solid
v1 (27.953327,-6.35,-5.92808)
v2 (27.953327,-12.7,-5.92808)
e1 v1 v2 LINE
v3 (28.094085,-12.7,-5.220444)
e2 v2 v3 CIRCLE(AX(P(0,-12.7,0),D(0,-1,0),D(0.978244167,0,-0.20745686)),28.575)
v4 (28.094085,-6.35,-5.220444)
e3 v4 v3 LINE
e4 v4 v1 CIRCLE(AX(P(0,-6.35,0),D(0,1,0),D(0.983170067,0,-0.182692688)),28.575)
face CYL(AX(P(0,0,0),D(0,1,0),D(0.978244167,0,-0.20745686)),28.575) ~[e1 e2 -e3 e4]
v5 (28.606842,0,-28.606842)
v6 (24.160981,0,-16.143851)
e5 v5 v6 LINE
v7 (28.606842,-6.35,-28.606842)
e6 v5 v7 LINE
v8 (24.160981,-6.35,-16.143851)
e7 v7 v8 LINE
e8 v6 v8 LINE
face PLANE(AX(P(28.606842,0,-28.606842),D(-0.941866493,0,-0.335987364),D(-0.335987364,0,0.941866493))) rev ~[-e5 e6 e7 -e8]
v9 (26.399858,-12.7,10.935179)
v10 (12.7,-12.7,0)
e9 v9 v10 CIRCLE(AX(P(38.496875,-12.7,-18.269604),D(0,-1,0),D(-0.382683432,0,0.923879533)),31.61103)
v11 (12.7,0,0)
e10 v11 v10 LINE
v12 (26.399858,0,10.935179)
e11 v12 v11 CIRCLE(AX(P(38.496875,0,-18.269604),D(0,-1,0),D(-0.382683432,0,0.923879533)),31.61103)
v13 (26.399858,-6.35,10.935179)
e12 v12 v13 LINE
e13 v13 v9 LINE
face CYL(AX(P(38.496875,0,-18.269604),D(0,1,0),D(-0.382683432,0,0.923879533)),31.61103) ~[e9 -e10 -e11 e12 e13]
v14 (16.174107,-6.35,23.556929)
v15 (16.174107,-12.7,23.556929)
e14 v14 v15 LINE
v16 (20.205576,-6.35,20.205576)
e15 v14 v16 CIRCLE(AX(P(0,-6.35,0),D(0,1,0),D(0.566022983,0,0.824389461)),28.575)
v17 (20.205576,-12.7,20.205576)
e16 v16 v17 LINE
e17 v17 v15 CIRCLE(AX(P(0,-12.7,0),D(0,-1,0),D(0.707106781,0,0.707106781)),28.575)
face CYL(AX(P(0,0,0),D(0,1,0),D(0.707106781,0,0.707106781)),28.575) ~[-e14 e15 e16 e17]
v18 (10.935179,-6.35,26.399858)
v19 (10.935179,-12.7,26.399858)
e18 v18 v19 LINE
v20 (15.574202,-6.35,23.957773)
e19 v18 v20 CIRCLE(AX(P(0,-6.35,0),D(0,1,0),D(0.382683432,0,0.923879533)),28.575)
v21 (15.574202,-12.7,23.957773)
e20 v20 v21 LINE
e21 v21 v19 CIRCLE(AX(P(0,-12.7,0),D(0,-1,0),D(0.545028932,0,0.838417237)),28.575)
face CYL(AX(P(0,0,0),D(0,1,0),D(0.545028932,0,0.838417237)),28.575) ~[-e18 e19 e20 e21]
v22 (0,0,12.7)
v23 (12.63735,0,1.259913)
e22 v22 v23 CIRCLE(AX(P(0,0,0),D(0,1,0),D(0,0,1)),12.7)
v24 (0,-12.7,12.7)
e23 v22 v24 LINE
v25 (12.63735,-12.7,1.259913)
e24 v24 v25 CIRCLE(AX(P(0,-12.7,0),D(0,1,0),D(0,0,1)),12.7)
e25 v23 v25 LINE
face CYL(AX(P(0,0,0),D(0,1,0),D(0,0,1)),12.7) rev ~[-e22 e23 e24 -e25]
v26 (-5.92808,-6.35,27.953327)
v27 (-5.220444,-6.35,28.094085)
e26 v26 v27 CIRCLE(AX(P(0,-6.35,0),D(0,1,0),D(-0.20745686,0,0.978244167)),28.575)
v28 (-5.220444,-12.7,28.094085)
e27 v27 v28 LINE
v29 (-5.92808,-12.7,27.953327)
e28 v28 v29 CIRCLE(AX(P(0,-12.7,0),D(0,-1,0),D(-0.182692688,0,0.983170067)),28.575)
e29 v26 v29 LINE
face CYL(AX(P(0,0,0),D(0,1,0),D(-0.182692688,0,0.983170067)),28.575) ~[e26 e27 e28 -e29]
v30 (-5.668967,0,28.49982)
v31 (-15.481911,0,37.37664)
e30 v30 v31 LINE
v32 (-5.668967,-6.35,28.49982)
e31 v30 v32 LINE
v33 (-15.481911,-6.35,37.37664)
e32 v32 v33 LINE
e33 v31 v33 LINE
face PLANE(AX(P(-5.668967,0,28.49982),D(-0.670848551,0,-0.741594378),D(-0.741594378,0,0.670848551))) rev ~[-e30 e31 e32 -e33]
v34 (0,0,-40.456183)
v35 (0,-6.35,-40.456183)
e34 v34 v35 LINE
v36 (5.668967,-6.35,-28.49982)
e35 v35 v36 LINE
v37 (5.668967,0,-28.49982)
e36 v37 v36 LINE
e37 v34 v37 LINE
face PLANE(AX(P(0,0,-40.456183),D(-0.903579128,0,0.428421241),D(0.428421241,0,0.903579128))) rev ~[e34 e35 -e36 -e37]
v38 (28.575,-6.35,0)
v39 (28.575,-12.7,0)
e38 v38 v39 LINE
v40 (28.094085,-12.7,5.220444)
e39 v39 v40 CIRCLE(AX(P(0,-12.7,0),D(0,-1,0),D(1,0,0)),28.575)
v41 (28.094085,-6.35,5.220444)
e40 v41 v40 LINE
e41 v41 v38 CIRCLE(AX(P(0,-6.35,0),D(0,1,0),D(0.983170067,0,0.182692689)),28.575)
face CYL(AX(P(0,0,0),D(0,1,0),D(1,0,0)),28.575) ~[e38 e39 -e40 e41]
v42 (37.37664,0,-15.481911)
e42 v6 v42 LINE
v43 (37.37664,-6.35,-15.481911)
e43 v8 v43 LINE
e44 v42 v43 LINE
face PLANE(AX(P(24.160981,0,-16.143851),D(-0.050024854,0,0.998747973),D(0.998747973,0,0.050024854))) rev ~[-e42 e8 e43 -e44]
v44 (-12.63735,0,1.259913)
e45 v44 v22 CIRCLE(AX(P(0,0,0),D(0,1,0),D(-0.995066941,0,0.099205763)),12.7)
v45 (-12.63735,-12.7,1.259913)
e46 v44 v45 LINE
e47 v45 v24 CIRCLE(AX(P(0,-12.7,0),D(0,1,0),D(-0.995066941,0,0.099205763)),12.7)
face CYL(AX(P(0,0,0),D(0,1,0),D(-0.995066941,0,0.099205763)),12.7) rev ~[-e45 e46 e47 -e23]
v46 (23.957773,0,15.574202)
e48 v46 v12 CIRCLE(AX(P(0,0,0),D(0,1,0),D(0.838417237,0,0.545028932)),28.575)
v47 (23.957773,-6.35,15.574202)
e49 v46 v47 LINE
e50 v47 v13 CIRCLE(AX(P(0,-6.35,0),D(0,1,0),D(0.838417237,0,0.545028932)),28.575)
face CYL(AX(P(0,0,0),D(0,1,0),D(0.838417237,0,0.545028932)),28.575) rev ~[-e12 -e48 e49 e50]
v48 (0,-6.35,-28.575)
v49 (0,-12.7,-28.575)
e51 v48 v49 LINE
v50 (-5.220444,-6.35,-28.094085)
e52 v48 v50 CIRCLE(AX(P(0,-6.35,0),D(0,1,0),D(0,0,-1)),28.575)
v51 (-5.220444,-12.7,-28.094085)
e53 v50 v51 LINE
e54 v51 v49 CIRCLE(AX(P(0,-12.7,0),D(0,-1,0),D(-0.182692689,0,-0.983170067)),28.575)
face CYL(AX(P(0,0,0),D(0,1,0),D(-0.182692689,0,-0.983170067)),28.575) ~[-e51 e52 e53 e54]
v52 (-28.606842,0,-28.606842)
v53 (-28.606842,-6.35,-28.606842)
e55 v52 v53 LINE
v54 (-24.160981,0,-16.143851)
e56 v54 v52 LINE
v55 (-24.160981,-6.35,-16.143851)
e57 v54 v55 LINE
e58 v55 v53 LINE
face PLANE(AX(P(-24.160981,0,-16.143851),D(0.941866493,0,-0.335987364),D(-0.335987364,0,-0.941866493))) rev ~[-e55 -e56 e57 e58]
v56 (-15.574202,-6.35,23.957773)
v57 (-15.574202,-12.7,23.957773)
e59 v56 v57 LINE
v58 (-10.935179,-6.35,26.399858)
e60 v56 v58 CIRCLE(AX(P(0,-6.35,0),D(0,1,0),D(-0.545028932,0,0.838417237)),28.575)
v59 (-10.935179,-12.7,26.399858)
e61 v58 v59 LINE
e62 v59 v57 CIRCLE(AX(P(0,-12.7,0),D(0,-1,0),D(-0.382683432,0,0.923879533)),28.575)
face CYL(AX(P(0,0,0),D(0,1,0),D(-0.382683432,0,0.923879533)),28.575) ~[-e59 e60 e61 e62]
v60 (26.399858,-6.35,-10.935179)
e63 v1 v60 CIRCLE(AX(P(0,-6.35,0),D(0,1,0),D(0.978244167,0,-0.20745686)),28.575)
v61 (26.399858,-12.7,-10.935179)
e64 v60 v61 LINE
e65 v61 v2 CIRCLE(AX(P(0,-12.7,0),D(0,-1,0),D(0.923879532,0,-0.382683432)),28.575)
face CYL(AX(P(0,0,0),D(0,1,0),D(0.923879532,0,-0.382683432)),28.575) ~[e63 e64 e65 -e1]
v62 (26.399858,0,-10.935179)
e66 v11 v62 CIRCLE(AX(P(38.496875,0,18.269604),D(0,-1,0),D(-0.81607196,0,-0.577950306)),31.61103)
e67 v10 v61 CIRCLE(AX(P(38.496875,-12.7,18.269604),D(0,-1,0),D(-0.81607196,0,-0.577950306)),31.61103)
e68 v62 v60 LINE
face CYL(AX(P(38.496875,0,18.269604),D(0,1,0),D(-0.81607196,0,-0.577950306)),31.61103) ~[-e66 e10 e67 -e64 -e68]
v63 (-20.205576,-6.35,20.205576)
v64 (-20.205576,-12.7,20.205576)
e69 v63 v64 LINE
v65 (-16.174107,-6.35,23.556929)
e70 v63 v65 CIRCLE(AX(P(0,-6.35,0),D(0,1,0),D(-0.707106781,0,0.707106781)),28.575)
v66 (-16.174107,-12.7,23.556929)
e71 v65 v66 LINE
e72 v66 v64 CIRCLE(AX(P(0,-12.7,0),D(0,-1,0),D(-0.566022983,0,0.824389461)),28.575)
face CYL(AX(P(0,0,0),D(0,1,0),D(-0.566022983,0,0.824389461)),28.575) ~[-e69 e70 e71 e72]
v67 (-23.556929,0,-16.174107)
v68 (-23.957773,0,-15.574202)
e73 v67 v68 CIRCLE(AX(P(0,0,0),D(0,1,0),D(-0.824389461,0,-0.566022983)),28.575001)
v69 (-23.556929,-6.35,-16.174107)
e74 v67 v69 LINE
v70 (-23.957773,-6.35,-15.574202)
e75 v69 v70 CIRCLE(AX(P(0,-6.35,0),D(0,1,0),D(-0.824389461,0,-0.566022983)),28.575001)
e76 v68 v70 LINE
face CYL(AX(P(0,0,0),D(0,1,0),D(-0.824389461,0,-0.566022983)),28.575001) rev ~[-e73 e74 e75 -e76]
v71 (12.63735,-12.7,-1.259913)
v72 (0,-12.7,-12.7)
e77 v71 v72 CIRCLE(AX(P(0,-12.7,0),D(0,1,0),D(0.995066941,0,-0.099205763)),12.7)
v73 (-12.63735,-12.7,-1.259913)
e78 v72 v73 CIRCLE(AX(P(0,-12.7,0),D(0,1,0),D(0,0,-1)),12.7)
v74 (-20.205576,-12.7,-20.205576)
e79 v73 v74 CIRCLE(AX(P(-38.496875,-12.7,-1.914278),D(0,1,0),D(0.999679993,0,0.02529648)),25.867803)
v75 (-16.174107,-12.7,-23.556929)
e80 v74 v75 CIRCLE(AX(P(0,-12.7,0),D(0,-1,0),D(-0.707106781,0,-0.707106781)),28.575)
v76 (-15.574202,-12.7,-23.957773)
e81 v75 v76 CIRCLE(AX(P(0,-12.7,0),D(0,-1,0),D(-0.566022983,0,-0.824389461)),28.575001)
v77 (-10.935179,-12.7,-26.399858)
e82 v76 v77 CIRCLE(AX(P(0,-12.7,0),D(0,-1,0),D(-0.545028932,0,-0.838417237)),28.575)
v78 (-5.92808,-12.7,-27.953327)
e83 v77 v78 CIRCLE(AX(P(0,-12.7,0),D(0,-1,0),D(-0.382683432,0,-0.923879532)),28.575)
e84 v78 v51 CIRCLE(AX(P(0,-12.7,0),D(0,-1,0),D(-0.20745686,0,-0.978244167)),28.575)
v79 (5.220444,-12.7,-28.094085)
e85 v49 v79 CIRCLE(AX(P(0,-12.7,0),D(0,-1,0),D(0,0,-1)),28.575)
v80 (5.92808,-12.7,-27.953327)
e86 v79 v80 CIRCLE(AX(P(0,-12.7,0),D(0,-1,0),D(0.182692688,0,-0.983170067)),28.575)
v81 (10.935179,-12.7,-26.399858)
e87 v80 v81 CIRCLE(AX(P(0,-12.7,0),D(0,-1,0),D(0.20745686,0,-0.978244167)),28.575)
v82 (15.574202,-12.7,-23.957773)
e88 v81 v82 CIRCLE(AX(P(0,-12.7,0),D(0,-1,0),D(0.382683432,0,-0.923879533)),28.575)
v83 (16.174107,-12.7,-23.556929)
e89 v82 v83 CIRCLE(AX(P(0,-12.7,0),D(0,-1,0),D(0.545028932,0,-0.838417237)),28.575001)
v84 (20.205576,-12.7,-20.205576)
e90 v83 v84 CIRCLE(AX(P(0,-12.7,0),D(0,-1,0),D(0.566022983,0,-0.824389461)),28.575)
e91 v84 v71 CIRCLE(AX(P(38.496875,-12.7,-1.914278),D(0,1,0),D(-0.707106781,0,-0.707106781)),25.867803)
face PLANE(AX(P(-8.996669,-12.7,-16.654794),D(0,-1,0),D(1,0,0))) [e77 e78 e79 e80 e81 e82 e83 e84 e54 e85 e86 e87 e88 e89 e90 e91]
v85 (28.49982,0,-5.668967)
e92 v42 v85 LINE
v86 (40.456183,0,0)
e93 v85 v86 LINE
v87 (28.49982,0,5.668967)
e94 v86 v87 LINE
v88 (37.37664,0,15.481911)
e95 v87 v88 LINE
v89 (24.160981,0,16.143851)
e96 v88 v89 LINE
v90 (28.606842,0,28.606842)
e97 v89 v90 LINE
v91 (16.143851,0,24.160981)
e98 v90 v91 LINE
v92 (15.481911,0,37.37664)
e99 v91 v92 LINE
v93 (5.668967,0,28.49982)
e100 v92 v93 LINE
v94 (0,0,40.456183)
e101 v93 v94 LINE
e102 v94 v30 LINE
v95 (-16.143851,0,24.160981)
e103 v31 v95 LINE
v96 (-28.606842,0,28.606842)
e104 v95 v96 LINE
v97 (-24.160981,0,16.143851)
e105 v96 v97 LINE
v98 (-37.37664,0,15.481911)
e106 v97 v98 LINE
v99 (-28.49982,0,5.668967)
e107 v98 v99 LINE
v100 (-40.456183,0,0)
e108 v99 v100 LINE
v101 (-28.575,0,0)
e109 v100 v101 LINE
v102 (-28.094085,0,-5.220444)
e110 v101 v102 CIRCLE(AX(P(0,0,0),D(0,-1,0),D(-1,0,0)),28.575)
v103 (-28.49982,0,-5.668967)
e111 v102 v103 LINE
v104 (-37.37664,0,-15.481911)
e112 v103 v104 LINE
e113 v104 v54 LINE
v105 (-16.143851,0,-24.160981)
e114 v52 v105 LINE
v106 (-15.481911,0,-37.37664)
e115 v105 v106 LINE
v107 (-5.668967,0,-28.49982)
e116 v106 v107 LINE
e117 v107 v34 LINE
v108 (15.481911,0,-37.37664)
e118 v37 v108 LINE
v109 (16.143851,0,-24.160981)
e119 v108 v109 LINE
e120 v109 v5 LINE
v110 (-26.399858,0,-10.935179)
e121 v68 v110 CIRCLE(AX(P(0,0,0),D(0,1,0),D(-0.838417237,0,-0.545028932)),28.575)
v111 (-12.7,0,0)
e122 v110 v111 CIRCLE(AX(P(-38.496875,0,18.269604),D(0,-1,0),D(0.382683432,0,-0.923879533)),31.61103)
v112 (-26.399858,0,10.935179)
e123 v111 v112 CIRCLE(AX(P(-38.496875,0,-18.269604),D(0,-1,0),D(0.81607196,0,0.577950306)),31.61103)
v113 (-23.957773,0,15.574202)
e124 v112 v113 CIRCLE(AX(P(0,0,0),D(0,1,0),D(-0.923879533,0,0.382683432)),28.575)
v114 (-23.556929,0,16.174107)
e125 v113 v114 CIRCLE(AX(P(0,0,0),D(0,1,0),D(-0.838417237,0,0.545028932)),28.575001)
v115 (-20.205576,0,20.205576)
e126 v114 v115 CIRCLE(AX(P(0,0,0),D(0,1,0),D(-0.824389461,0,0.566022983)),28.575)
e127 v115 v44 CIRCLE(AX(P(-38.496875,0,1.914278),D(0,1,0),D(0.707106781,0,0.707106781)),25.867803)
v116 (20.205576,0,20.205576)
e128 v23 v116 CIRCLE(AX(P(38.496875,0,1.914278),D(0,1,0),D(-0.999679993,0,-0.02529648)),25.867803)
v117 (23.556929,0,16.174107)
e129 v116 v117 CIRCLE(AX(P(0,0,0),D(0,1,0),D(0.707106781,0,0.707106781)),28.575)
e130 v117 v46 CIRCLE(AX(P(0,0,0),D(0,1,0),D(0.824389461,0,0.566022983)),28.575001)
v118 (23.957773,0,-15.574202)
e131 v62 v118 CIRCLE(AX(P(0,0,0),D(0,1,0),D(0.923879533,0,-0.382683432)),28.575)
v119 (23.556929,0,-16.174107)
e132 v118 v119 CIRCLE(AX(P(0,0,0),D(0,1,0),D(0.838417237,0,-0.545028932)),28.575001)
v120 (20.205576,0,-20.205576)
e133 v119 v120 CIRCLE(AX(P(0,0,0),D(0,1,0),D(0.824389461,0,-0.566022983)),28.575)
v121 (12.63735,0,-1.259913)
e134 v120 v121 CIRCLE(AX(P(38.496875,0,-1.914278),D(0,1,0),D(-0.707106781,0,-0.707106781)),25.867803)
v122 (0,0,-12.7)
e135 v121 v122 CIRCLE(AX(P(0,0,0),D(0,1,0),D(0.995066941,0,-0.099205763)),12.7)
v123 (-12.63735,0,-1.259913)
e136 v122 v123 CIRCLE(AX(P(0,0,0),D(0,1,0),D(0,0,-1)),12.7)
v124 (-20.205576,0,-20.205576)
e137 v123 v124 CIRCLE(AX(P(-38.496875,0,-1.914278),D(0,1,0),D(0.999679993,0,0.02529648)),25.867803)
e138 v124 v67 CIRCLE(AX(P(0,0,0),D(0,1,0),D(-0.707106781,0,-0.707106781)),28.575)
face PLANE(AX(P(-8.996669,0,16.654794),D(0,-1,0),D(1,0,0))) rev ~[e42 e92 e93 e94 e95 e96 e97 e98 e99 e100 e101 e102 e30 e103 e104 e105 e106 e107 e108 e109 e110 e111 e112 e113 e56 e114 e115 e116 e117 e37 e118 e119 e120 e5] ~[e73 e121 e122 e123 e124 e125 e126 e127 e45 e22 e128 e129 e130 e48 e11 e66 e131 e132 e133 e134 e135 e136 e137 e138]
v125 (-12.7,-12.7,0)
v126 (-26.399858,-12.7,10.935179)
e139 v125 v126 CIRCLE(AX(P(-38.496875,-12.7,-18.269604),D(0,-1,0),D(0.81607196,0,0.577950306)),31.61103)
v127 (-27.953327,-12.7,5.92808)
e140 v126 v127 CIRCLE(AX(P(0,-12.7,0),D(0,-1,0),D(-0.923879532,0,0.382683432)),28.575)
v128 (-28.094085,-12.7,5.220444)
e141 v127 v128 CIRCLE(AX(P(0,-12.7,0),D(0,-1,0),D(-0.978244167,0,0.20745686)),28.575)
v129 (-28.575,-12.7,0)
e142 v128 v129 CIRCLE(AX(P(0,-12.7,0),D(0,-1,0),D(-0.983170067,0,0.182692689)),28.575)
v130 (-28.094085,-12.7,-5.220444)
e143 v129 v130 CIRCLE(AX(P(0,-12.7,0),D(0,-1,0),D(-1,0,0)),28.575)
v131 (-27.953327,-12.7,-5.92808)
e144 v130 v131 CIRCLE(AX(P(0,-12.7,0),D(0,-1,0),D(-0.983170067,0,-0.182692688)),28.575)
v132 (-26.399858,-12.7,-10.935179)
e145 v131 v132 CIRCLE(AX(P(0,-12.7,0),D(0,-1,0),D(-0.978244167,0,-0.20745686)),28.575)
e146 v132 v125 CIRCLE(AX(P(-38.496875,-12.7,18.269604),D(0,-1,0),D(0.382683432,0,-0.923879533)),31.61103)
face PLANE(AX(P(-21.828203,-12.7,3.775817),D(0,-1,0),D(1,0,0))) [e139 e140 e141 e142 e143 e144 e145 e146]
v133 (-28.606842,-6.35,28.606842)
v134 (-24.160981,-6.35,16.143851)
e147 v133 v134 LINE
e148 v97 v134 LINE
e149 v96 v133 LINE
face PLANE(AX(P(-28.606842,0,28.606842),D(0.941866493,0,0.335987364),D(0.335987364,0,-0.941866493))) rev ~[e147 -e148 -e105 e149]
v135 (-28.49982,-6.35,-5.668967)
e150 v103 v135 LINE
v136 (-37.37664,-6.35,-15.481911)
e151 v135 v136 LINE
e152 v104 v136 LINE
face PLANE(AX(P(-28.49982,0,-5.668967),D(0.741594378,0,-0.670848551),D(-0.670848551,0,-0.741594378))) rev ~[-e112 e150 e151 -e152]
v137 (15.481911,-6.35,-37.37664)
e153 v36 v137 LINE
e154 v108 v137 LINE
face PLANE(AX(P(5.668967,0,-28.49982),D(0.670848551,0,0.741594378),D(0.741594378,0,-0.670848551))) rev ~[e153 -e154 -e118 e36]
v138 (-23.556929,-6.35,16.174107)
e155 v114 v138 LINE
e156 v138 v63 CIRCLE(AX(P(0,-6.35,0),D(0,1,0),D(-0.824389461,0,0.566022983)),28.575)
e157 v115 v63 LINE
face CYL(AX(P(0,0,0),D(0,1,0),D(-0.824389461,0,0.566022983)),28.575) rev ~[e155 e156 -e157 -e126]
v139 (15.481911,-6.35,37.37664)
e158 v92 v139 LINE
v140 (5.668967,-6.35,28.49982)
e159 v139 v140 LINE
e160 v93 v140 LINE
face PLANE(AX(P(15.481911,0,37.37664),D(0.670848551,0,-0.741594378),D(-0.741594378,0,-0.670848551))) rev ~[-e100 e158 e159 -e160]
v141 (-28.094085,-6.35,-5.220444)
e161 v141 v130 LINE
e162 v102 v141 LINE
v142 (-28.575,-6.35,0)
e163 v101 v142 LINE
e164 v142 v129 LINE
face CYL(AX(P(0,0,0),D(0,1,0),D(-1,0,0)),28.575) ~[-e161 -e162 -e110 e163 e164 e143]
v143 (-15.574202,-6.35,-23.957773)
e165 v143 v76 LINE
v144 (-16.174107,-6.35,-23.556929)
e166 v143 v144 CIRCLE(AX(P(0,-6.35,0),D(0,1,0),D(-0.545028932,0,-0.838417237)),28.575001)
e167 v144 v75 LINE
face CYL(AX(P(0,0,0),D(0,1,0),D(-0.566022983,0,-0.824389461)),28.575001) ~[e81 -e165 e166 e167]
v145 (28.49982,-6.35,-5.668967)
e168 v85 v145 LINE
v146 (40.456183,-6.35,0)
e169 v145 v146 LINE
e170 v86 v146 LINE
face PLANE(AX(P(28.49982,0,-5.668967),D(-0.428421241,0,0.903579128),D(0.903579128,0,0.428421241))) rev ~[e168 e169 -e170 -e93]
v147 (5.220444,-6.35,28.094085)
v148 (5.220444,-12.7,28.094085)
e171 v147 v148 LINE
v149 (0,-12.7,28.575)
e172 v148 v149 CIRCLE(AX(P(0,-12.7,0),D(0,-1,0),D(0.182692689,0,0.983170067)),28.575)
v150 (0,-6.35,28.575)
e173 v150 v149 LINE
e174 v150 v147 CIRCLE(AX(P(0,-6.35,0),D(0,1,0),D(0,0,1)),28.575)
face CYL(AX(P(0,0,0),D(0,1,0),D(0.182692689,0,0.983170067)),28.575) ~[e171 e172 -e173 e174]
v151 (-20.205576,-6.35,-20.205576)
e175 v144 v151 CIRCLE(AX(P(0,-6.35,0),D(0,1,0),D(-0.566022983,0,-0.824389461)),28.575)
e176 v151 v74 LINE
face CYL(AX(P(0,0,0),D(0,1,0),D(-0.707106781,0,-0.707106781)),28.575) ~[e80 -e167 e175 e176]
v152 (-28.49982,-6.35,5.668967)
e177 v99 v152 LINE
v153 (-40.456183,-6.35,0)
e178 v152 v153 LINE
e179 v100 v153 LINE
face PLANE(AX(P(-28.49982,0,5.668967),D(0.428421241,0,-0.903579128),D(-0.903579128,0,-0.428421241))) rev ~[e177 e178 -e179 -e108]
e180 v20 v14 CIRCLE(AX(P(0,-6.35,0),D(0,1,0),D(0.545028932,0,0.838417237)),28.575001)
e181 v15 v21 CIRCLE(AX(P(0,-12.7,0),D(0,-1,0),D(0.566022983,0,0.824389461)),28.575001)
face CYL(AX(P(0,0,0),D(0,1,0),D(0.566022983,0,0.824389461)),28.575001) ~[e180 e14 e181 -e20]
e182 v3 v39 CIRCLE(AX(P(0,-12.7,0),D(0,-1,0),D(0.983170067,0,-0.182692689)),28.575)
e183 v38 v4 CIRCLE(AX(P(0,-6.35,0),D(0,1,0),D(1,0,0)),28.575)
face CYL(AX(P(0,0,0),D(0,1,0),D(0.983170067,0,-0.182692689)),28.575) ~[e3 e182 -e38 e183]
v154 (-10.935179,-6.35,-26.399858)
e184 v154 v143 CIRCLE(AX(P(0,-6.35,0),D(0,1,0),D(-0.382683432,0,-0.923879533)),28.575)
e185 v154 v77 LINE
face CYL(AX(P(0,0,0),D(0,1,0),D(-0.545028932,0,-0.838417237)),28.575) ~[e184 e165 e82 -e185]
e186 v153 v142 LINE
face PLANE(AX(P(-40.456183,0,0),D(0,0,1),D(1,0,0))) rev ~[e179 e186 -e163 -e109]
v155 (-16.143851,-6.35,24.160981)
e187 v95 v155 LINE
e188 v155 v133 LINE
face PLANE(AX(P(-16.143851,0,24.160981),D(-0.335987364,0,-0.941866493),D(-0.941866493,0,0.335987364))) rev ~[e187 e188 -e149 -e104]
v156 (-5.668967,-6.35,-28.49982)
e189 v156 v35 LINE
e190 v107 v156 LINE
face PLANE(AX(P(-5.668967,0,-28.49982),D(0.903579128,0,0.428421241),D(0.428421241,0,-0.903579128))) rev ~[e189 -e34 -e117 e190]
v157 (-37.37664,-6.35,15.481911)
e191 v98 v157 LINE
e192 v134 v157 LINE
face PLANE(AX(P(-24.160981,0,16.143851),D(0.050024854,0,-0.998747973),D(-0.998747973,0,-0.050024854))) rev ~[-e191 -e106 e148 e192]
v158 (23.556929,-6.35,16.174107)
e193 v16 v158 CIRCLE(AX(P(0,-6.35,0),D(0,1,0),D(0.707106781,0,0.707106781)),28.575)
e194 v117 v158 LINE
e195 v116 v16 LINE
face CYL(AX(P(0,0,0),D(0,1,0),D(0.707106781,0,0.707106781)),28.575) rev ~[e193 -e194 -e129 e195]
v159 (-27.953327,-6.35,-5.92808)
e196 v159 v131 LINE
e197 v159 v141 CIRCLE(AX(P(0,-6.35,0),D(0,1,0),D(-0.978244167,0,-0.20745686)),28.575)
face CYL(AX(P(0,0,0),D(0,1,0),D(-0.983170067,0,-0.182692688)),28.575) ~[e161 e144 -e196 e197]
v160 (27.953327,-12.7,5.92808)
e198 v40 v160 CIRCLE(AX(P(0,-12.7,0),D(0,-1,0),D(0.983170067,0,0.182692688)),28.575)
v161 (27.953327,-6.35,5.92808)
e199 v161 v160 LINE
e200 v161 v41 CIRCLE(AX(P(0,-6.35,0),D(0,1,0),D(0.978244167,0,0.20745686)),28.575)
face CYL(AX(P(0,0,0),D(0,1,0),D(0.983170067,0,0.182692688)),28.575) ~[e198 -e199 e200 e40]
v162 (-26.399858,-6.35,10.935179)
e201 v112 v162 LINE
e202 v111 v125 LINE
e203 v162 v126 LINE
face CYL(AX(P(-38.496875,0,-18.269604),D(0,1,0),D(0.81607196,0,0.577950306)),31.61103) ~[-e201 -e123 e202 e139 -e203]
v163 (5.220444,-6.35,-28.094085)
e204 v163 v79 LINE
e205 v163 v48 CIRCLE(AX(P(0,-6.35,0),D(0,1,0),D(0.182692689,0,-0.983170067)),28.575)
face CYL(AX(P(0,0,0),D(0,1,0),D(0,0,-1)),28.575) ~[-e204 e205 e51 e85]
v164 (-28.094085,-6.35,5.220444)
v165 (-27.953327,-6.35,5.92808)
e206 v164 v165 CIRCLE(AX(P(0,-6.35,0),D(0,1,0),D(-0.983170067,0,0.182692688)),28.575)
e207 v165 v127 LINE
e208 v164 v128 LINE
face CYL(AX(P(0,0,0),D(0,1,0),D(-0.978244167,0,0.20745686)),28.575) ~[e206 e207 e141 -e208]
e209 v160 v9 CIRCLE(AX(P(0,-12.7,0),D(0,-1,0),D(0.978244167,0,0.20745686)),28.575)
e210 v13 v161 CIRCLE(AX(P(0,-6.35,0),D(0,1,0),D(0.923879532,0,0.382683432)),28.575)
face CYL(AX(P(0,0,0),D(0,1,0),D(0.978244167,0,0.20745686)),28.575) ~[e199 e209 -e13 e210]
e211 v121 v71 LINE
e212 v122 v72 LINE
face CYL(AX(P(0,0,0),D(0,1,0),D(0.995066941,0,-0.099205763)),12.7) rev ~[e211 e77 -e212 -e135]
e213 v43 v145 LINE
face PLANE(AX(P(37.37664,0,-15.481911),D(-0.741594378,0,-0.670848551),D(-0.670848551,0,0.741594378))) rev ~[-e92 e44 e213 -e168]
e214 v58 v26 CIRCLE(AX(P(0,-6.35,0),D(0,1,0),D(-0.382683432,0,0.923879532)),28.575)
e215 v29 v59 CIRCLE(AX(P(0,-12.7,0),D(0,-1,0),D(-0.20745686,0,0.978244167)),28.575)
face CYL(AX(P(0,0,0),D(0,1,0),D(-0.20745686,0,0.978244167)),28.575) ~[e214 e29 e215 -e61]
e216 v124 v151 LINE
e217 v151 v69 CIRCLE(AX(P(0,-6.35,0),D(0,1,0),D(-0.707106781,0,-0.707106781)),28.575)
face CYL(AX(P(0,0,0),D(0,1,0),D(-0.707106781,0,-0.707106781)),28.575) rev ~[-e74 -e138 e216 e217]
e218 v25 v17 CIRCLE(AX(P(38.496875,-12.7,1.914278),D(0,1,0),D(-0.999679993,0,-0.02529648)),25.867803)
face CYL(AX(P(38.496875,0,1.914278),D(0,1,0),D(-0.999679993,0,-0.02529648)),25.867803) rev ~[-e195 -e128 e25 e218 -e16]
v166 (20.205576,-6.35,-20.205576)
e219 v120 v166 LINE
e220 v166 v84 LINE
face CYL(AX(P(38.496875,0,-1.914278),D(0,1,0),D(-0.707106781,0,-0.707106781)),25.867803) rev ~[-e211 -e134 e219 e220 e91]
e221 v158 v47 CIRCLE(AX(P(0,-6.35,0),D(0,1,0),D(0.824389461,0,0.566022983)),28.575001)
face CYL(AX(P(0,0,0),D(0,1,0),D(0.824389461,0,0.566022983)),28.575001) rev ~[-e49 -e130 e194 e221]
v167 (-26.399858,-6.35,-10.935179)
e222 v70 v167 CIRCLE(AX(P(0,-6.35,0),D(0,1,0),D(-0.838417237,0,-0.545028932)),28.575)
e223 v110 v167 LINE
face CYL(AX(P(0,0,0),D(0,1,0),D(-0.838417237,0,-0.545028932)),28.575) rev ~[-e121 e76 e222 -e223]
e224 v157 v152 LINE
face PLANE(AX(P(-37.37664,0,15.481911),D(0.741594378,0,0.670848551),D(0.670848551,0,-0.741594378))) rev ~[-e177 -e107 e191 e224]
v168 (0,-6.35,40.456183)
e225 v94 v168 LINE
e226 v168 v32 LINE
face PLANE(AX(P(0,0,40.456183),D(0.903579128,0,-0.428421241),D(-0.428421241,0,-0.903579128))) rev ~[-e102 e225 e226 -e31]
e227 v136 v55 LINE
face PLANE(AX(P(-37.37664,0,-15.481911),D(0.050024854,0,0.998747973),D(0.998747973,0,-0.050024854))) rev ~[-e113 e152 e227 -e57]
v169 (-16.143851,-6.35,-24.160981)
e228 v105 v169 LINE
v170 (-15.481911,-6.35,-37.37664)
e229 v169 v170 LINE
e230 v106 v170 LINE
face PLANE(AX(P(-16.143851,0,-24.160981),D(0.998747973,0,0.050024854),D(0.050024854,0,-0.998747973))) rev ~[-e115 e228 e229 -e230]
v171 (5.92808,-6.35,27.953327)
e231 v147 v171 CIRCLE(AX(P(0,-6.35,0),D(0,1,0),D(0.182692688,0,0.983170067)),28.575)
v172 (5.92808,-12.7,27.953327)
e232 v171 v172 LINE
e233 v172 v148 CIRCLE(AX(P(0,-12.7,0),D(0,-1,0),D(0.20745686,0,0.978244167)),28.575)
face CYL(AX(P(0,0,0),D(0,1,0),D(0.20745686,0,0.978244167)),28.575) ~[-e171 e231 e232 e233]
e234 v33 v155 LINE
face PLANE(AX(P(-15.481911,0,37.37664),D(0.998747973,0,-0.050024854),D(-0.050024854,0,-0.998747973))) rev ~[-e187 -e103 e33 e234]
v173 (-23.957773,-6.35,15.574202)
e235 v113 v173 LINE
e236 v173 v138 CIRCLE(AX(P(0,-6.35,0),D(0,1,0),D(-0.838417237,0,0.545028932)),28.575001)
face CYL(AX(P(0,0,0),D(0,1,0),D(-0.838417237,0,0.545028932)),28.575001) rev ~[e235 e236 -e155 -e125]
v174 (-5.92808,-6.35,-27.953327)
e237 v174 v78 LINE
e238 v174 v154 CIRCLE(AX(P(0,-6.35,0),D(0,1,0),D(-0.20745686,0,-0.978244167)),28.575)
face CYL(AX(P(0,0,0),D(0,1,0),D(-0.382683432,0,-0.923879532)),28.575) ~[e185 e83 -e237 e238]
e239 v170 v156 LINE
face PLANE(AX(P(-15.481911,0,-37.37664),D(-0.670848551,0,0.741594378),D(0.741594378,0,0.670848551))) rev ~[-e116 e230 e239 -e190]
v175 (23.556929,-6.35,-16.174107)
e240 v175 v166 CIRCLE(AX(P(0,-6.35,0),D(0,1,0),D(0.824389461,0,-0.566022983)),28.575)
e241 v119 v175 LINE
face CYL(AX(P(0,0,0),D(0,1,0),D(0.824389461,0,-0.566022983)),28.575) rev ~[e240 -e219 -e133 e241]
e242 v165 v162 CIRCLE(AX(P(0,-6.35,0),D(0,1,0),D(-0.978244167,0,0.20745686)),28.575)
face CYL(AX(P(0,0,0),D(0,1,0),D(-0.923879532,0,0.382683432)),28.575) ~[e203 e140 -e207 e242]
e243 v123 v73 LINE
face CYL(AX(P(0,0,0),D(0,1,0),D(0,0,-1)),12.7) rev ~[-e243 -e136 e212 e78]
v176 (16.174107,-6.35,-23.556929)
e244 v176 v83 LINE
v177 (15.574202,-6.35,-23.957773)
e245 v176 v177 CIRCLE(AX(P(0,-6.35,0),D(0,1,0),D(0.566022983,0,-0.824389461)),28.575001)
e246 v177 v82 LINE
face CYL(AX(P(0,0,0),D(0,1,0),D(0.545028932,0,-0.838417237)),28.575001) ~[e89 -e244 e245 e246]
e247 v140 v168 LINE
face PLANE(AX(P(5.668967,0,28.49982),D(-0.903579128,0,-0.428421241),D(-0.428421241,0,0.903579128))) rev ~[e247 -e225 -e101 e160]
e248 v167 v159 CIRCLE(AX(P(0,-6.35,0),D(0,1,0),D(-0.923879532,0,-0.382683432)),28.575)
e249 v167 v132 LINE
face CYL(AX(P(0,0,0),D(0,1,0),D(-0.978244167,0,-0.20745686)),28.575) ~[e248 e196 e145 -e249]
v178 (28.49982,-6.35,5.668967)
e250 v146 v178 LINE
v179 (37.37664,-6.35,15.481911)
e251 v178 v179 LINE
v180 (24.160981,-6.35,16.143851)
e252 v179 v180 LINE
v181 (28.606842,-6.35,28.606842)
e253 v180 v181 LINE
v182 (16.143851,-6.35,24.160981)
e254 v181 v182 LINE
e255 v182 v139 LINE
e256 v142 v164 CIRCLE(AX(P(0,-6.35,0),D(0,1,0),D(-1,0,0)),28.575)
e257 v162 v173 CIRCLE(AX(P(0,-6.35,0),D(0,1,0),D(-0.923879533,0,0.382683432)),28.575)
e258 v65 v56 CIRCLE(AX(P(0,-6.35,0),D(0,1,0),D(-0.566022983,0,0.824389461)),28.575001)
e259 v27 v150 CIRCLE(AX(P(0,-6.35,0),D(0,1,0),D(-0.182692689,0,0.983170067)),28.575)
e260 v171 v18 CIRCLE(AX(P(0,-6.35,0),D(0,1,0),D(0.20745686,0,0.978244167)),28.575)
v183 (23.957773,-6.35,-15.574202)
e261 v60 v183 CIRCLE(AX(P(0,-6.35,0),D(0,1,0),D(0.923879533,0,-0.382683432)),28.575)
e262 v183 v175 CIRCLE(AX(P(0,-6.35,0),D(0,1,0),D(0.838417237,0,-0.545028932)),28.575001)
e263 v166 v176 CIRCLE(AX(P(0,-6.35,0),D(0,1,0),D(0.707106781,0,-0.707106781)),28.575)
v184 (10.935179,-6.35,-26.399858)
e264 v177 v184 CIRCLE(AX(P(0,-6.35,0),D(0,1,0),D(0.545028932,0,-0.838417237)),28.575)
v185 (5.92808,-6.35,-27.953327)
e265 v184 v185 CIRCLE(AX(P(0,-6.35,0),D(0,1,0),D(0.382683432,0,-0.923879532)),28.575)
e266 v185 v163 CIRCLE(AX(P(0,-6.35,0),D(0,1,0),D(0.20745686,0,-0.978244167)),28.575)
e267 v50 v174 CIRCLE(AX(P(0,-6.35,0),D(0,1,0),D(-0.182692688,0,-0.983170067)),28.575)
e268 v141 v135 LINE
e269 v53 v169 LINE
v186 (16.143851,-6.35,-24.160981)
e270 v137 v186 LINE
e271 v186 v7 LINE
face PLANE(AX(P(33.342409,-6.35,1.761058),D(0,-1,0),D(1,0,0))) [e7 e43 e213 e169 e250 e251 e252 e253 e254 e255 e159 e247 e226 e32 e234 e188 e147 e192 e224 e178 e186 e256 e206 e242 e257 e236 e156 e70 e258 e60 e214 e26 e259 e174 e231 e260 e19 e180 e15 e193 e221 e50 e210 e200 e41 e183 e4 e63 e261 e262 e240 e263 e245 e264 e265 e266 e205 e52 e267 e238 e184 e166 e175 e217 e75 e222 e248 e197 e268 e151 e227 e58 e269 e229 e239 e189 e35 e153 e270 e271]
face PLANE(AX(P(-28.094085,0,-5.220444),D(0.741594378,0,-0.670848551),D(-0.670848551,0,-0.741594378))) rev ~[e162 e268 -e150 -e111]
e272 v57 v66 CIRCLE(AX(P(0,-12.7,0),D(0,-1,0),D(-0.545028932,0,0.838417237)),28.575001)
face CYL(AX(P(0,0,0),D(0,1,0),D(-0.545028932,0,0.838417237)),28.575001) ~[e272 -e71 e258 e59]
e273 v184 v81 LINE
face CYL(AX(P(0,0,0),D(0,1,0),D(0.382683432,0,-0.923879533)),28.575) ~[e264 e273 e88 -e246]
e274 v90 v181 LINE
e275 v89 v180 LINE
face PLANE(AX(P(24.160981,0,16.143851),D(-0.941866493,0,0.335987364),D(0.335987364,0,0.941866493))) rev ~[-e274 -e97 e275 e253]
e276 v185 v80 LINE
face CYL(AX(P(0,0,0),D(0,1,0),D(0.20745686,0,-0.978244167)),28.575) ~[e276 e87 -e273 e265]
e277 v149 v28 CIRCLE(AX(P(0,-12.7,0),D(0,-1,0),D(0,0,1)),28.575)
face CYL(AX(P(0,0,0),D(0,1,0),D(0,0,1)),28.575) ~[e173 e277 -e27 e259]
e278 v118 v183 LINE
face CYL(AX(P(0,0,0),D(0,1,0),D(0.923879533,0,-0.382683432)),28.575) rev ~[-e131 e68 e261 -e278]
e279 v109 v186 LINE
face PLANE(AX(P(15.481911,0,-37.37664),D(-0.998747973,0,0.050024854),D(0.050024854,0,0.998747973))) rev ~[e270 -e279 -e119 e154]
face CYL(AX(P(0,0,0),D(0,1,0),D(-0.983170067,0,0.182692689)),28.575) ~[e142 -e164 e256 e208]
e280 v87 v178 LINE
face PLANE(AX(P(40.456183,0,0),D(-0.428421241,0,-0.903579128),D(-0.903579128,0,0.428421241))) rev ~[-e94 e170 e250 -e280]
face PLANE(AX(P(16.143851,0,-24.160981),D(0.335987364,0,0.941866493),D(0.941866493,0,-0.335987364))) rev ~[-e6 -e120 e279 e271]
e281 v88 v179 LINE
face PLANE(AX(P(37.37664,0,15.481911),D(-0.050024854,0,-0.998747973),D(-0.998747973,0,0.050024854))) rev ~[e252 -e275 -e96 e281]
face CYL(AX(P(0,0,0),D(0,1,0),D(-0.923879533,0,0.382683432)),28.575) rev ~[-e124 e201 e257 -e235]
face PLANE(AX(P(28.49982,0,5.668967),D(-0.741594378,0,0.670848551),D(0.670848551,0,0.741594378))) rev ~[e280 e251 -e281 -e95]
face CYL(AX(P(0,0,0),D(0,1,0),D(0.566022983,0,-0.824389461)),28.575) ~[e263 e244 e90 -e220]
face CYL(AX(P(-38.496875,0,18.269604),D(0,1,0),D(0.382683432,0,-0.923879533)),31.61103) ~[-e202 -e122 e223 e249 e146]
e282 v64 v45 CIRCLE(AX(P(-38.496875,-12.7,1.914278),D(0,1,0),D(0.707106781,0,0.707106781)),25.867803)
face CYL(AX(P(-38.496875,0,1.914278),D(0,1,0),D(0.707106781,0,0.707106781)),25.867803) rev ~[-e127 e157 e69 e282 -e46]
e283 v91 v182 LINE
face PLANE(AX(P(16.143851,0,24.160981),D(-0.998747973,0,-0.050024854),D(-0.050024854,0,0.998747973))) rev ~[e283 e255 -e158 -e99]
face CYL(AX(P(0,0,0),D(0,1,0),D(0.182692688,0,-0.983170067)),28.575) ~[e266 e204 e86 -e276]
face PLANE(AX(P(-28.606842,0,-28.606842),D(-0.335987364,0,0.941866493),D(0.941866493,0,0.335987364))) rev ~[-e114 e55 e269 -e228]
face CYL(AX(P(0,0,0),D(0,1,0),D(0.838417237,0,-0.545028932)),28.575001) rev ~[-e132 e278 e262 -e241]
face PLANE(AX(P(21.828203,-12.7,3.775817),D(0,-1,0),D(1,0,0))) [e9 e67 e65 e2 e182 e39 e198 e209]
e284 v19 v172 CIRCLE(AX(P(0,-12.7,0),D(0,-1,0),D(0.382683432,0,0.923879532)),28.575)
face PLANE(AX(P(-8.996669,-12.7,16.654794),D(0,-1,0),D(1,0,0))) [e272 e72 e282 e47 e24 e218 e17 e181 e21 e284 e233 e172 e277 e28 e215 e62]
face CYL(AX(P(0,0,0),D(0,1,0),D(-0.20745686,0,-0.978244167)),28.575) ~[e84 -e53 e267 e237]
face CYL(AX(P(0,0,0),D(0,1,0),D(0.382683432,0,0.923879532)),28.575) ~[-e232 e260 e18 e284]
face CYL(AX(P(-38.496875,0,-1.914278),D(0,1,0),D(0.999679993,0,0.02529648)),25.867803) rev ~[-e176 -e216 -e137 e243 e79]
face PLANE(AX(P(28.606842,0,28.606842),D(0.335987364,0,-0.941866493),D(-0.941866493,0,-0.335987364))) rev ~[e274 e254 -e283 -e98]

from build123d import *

# Parameters (mm, degrees)
F1_DEPTH = 6.35
F2_DEPTH = 12.7


with BuildPart() as f1:
    # F0 (on Front) → F1 (new body)
    with BuildSketch(Plane.XZ):
        with BuildLine():
            ThreePointArc((28.0940846779, 5.220443574), (28.4545171693, 2.6212740536), (28.575, 0))
            Line((28.575, 0), (40.4561832547, 0))
            Line((40.4561832547, 0), (28.4998200535, 5.6689666767))
            Line((28.4998200535, 5.6689666767), (28.0940846779, 5.220443574))
        make_face()
        with BuildLine():
            ThreePointArc((27.9533270839, 5.9280797851), (28.0259393875, 5.5747059516), (28.0940846779, 5.220443574))
            Line((28.0940846779, 5.220443574), (28.4998200535, 5.6689666767))
            Line((28.4998200535, 5.6689666767), (27.9533270839, 5.9280797851))
        make_face()
        with BuildLine():
            Line((37.3766396726, 15.4819110683), (26.3998576415, 10.9351790798))
            ThreePointArc((26.3998576415, 10.9351790798), (27.2916641722, 8.4673308494), (27.9533270839, 5.9280797851))
            Line((27.9533270839, 5.9280797851), (28.4998200535, 5.6689666767))
            Line((28.4998200535, 5.6689666767), (37.3766396726, 15.4819110683))
        make_face()
        with BuildLine():
            ThreePointArc((23.9577725532, 15.5742017223), (25.2854278682, 13.3108137438), (26.3998576415, 10.9351790798))
            Line((26.3998576415, 10.9351790798), (37.3766396726, 15.4819110683))
            Line((37.3766396726, 15.4819110683), (24.1609808019, 16.143851243))
            Line((24.1609808019, 16.143851243), (23.9577725532, 15.5742017223))
        make_face()
        with BuildLine():
            ThreePointArc((23.556928839, 16.174106735), (23.7592441715, 15.8754194085), (23.9577725532, 15.5742017223))
            Line((23.9577725532, 15.5742017223), (24.1609808019, 16.143851243))
            Line((24.1609808019, 16.143851243), (23.556928839, 16.174106735))
        make_face()
        with BuildLine():
            Line((28.6068415203, 28.6068415203), (20.2055762724, 20.2055762724))
            ThreePointArc((20.2055762724, 20.2055762724), (21.9739027044, 18.2668613871), (23.556928839, 16.174106735))
            Line((23.556928839, 16.174106735), (24.1609808019, 16.143851243))
            Line((24.1609808019, 16.143851243), (28.6068415203, 28.6068415203))
        make_face()
        with BuildLine():
            ThreePointArc((16.174106735, 23.556928839), (18.2668613871, 21.9739027044), (20.2055762724, 20.2055762724))
            Line((20.2055762724, 20.2055762724), (28.6068415203, 28.6068415203))
            Line((28.6068415203, 28.6068415203), (16.143851243, 24.1609808019))
            Line((16.143851243, 24.1609808019), (16.174106735, 23.556928839))
        make_face()
        with BuildLine():
            ThreePointArc((15.5742017223, 23.9577725532), (15.8754194085, 23.7592441715), (16.174106735, 23.556928839))
            Line((16.174106735, 23.556928839), (16.143851243, 24.1609808019))
            Line((16.143851243, 24.1609808019), (15.5742017223, 23.9577725532))
        make_face()
        with BuildLine():
            ThreePointArc((10.9351790798, 26.3998576415), (13.3108137438, 25.2854278682), (15.5742017223, 23.9577725532))
            Line((15.5742017223, 23.9577725532), (16.143851243, 24.1609808019))
            Line((16.143851243, 24.1609808019), (15.4819110683, 37.3766396726))
            Line((15.4819110683, 37.3766396726), (10.9351790798, 26.3998576415))
        make_face()
        with BuildLine():
            Line((5.6689666767, 28.4998200535), (5.9280797851, 27.9533270839))
            ThreePointArc((5.9280797851, 27.9533270839), (8.4673308494, 27.2916641722), (10.9351790798, 26.3998576415))
            Line((10.9351790798, 26.3998576415), (15.4819110683, 37.3766396726))
            Line((15.4819110683, 37.3766396726), (5.6689666767, 28.4998200535))
        make_face()
        with BuildLine():
            Line((5.6689666767, 28.4998200535), (5.220443574, 28.0940846779))
            ThreePointArc((5.220443574, 28.0940846779), (5.5747059516, 28.0259393875), (5.9280797851, 27.9533270839))
            Line((5.9280797851, 27.9533270839), (5.6689666767, 28.4998200535))
        make_face()
        with BuildLine():
            Line((0, 40.4561832547), (0, 28.575))
            ThreePointArc((0, 28.575), (2.6212740536, 28.4545171693), (5.220443574, 28.0940846779))
            Line((5.220443574, 28.0940846779), (5.6689666767, 28.4998200535))
            Line((5.6689666767, 28.4998200535), (0, 40.4561832547))
        make_face()
        with BuildLine():
            ThreePointArc((-5.220443574, 28.0940846779), (-2.6212740536, 28.4545171693), (0, 28.575))
            Line((0, 28.575), (0, 40.4561832547))
            Line((0, 40.4561832547), (-5.6689666767, 28.4998200535))
            Line((-5.6689666767, 28.4998200535), (-5.220443574, 28.0940846779))
        make_face()
        with BuildLine():
            ThreePointArc((-5.9280797851, 27.9533270839), (-5.5747059516, 28.0259393875), (-5.220443574, 28.0940846779))
            Line((-5.220443574, 28.0940846779), (-5.6689666767, 28.4998200535))
            Line((-5.6689666767, 28.4998200535), (-5.9280797851, 27.9533270839))
        make_face()
        with BuildLine():
            ThreePointArc((-10.9351790798, 26.3998576415), (-8.4673308494, 27.2916641722), (-5.9280797851, 27.9533270839))
            Line((-5.9280797851, 27.9533270839), (-5.6689666767, 28.4998200535))
            Line((-5.6689666767, 28.4998200535), (-15.4819110683, 37.3766396726))
            Line((-15.4819110683, 37.3766396726), (-10.9351790798, 26.3998576415))
        make_face()
        with BuildLine():
            Line((-16.143851243, 24.1609808019), (-15.5742017223, 23.9577725532))
            ThreePointArc((-15.5742017223, 23.9577725532), (-13.3108137438, 25.2854278682), (-10.9351790798, 26.3998576415))
            Line((-10.9351790798, 26.3998576415), (-15.4819110683, 37.3766396726))
            Line((-15.4819110683, 37.3766396726), (-16.143851243, 24.1609808019))
        make_face()
        with BuildLine():
            Line((-16.143851243, 24.1609808019), (-16.174106735, 23.556928839))
            ThreePointArc((-16.174106735, 23.556928839), (-15.8754194085, 23.7592441715), (-15.5742017223, 23.9577725532))
            Line((-15.5742017223, 23.9577725532), (-16.143851243, 24.1609808019))
        make_face()
        with BuildLine():
            Line((-28.6068415203, 28.6068415203), (-20.2055762724, 20.2055762724))
            ThreePointArc((-20.2055762724, 20.2055762724), (-18.2668613871, 21.9739027044), (-16.174106735, 23.556928839))
            Line((-16.174106735, 23.556928839), (-16.143851243, 24.1609808019))
            Line((-16.143851243, 24.1609808019), (-28.6068415203, 28.6068415203))
        make_face()
        with BuildLine():
            ThreePointArc((-23.556928839, 16.174106735), (-21.9739027044, 18.2668613871), (-20.2055762724, 20.2055762724))
            Line((-20.2055762724, 20.2055762724), (-28.6068415203, 28.6068415203))
            Line((-28.6068415203, 28.6068415203), (-24.1609808019, 16.143851243))
            Line((-24.1609808019, 16.143851243), (-23.556928839, 16.174106735))
        make_face()
        with BuildLine():
            ThreePointArc((-23.9577725532, 15.5742017223), (-23.7592441715, 15.8754194085), (-23.556928839, 16.174106735))
            Line((-23.556928839, 16.174106735), (-24.1609808019, 16.143851243))
            Line((-24.1609808019, 16.143851243), (-23.9577725532, 15.5742017223))
        make_face()
        with BuildLine():
            Line((-37.3766396726, 15.4819110683), (-26.3998576415, 10.9351790798))
            ThreePointArc((-26.3998576415, 10.9351790798), (-25.2854278682, 13.3108137438), (-23.9577725532, 15.5742017223))
            Line((-23.9577725532, 15.5742017223), (-24.1609808019, 16.143851243))
            Line((-24.1609808019, 16.143851243), (-37.3766396726, 15.4819110683))
        make_face()
        with BuildLine():
            ThreePointArc((-27.9533270839, 5.9280797851), (-27.2916641722, 8.4673308494), (-26.3998576415, 10.9351790798))
            Line((-26.3998576415, 10.9351790798), (-37.3766396726, 15.4819110683))
            Line((-37.3766396726, 15.4819110683), (-28.4998200535, 5.6689666767))
            Line((-28.4998200535, 5.6689666767), (-27.9533270839, 5.9280797851))
        make_face()
        with BuildLine():
            Line((-28.4998200535, 5.6689666767), (-28.0940846779, 5.220443574))
            ThreePointArc((-28.0940846779, 5.220443574), (-28.0259393875, 5.5747059516), (-27.9533270839, 5.9280797851))
            Line((-27.9533270839, 5.9280797851), (-28.4998200535, 5.6689666767))
        make_face()
        with BuildLine():
            Line((-40.4561832547, 0), (-28.575, 0))
            ThreePointArc((-28.575, 0), (-28.4545171693, 2.6212740536), (-28.0940846779, 5.220443574))
            Line((-28.0940846779, 5.220443574), (-28.4998200535, 5.6689666767))
            Line((-28.4998200535, 5.6689666767), (-40.4561832547, 0))
        make_face()
        with BuildLine():
            ThreePointArc((-27.9533270839, -5.9280797851), (-28.0259393875, -5.5747059516), (-28.0940846779, -5.220443574))
            Line((-28.0940846779, -5.220443574), (-28.4998200535, -5.6689666767))
            Line((-28.4998200535, -5.6689666767), (-27.9533270839, -5.9280797851))
        make_face()
        with BuildLine():
            Line((-37.3766396726, -15.4819110683), (-26.3998576415, -10.9351790798))
            ThreePointArc((-26.3998576415, -10.9351790798), (-27.2916641722, -8.4673308494), (-27.9533270839, -5.9280797851))
            Line((-27.9533270839, -5.9280797851), (-28.4998200535, -5.6689666767))
            Line((-28.4998200535, -5.6689666767), (-37.3766396726, -15.4819110683))
        make_face()
        with BuildLine():
            ThreePointArc((-23.9577725532, -15.5742017223), (-25.2854278682, -13.3108137438), (-26.3998576415, -10.9351790798))
            Line((-26.3998576415, -10.9351790798), (-37.3766396726, -15.4819110683))
            Line((-37.3766396726, -15.4819110683), (-24.1609808019, -16.143851243))
            Line((-24.1609808019, -16.143851243), (-23.9577725532, -15.5742017223))
        make_face()
        with BuildLine():
            Line((-24.1609808019, -16.143851243), (-23.556928839, -16.174106735))
            ThreePointArc((-23.556928839, -16.174106735), (-23.7592441715, -15.8754194085), (-23.9577725532, -15.5742017223))
            Line((-23.9577725532, -15.5742017223), (-24.1609808019, -16.143851243))
        make_face()
        with BuildLine():
            Line((-28.6068415203, -28.6068415203), (-20.2055762724, -20.2055762724))
            ThreePointArc((-20.2055762724, -20.2055762724), (-21.9739027044, -18.2668613871), (-23.556928839, -16.174106735))
            Line((-23.556928839, -16.174106735), (-24.1609808019, -16.143851243))
            Line((-24.1609808019, -16.143851243), (-28.6068415203, -28.6068415203))
        make_face()
        with BuildLine():
            ThreePointArc((-16.174106735, -23.556928839), (-18.2668613871, -21.9739027044), (-20.2055762724, -20.2055762724))
            Line((-20.2055762724, -20.2055762724), (-28.6068415203, -28.6068415203))
            Line((-28.6068415203, -28.6068415203), (-16.143851243, -24.1609808019))
            Line((-16.143851243, -24.1609808019), (-16.174106735, -23.556928839))
        make_face()
        with BuildLine():
            ThreePointArc((-15.5742017223, -23.9577725532), (-15.8754194085, -23.7592441715), (-16.174106735, -23.556928839))
            Line((-16.174106735, -23.556928839), (-16.143851243, -24.1609808019))
            Line((-16.143851243, -24.1609808019), (-15.5742017223, -23.9577725532))
        make_face()
        with BuildLine():
            ThreePointArc((-10.9351790798, -26.3998576415), (-13.3108137438, -25.2854278682), (-15.5742017223, -23.9577725532))
            Line((-15.5742017223, -23.9577725532), (-16.143851243, -24.1609808019))
            Line((-16.143851243, -24.1609808019), (-15.4819110683, -37.3766396726))
            Line((-15.4819110683, -37.3766396726), (-10.9351790798, -26.3998576415))
        make_face()
        with BuildLine():
            Line((-5.6689666767, -28.4998200535), (-5.9280797851, -27.9533270839))
            ThreePointArc((-5.9280797851, -27.9533270839), (-8.4673308494, -27.2916641722), (-10.9351790798, -26.3998576415))
            Line((-10.9351790798, -26.3998576415), (-15.4819110683, -37.3766396726))
            Line((-15.4819110683, -37.3766396726), (-5.6689666767, -28.4998200535))
        make_face()
        with BuildLine():
            Line((-5.6689666767, -28.4998200535), (-5.220443574, -28.0940846779))
            ThreePointArc((-5.220443574, -28.0940846779), (-5.5747059516, -28.0259393875), (-5.9280797851, -27.9533270839))
            Line((-5.9280797851, -27.9533270839), (-5.6689666767, -28.4998200535))
        make_face()
        with BuildLine():
            Line((0, -40.4561832547), (0, -28.575))
            ThreePointArc((0, -28.575), (-2.6212740536, -28.4545171693), (-5.220443574, -28.0940846779))
            Line((-5.220443574, -28.0940846779), (-5.6689666767, -28.4998200535))
            Line((-5.6689666767, -28.4998200535), (0, -40.4561832547))
        make_face()
        with BuildLine():
            ThreePointArc((5.220443574, -28.0940846779), (2.6212740536, -28.4545171693), (0, -28.575))
            Line((0, -28.575), (0, -40.4561832547))
            Line((0, -40.4561832547), (5.6689666767, -28.4998200535))
            Line((5.6689666767, -28.4998200535), (5.220443574, -28.0940846779))
        make_face()
        with BuildLine():
            ThreePointArc((5.9280797851, -27.9533270839), (5.5747059516, -28.0259393875), (5.220443574, -28.0940846779))
            Line((5.220443574, -28.0940846779), (5.6689666767, -28.4998200535))
            Line((5.6689666767, -28.4998200535), (5.9280797851, -27.9533270839))
        make_face()
        with BuildLine():
            ThreePointArc((10.9351790798, -26.3998576415), (8.4673308494, -27.2916641722), (5.9280797851, -27.9533270839))
            Line((5.9280797851, -27.9533270839), (5.6689666767, -28.4998200535))
            Line((5.6689666767, -28.4998200535), (15.4819110683, -37.3766396726))
            Line((15.4819110683, -37.3766396726), (10.9351790798, -26.3998576415))
        make_face()
        with BuildLine():
            Line((16.143851243, -24.1609808019), (15.5742017223, -23.9577725532))
            ThreePointArc((15.5742017223, -23.9577725532), (13.3108137438, -25.2854278682), (10.9351790798, -26.3998576415))
            Line((10.9351790798, -26.3998576415), (15.4819110683, -37.3766396726))
            Line((15.4819110683, -37.3766396726), (16.143851243, -24.1609808019))
        make_face()
        with BuildLine():
            Line((16.143851243, -24.1609808019), (16.174106735, -23.556928839))
            ThreePointArc((16.174106735, -23.556928839), (15.8754194085, -23.7592441715), (15.5742017223, -23.9577725532))
            Line((15.5742017223, -23.9577725532), (16.143851243, -24.1609808019))
        make_face()
        with BuildLine():
            Line((28.6068415203, -28.6068415203), (20.2055762724, -20.2055762724))
            ThreePointArc((20.2055762724, -20.2055762724), (18.2668613871, -21.9739027044), (16.174106735, -23.556928839))
            Line((16.174106735, -23.556928839), (16.143851243, -24.1609808019))
            Line((16.143851243, -24.1609808019), (28.6068415203, -28.6068415203))
        make_face()
        with BuildLine():
            ThreePointArc((23.556928839, -16.174106735), (21.9739027044, -18.2668613871), (20.2055762724, -20.2055762724))
            Line((20.2055762724, -20.2055762724), (28.6068415203, -28.6068415203))
            Line((28.6068415203, -28.6068415203), (24.1609808019, -16.143851243))
            Line((24.1609808019, -16.143851243), (23.556928839, -16.174106735))
        make_face()
        with BuildLine():
            Line((24.1609808019, -16.143851243), (23.9577725532, -15.5742017223))
            ThreePointArc((23.9577725532, -15.5742017223), (23.7592441715, -15.8754194085), (23.556928839, -16.174106735))
            Line((23.556928839, -16.174106735), (24.1609808019, -16.143851243))
        make_face()
        with BuildLine():
            Line((37.3766396726, -15.4819110683), (26.3998576415, -10.9351790798))
            ThreePointArc((26.3998576415, -10.9351790798), (25.2854278682, -13.3108137438), (23.9577725532, -15.5742017223))
            Line((23.9577725532, -15.5742017223), (24.1609808019, -16.143851243))
            Line((24.1609808019, -16.143851243), (37.3766396726, -15.4819110683))
        make_face()
        with BuildLine():
            ThreePointArc((27.9533270839, -5.9280797851), (27.2916641722, -8.4673308494), (26.3998576415, -10.9351790798))
            Line((26.3998576415, -10.9351790798), (37.3766396726, -15.4819110683))
            Line((37.3766396726, -15.4819110683), (28.4998200535, -5.6689666767))
            Line((28.4998200535, -5.6689666767), (27.9533270839, -5.9280797851))
        make_face()
        with BuildLine():
            Line((28.4998200535, -5.6689666767), (28.0940846779, -5.220443574))
            ThreePointArc((28.0940846779, -5.220443574), (28.0259393875, -5.5747059516), (27.9533270839, -5.9280797851))
            Line((27.9533270839, -5.9280797851), (28.4998200535, -5.6689666767))
        make_face()
        with BuildLine():
            Line((40.4561832547, 0), (28.575, 0))
            ThreePointArc((28.575, 0), (28.4545171693, -2.6212740536), (28.0940846779, -5.220443574))
            Line((28.0940846779, -5.220443574), (28.4998200535, -5.6689666767))
            Line((28.4998200535, -5.6689666767), (40.4561832547, 0))
        make_face()
    extrude(amount=F1_DEPTH)

    # F0 (on Front) → F2 (join)
    with BuildSketch(Plane.XZ):
        with BuildLine():
            ThreePointArc((-12.637350148, 1.259913186), (-8.5231772989, 9.4151712003), (0, 12.7))
            Line((0, 12.7), (0, 28.575))
            ThreePointArc((0, 28.575), (-2.6212740536, 28.4545171693), (-5.220443574, 28.0940846779))
            ThreePointArc((-5.220443574, 28.0940846779), (-5.5747059516, 28.0259393875), (-5.9280797851, 27.9533270839))
            ThreePointArc((-5.9280797851, 27.9533270839), (-8.4673308494, 27.2916641722), (-10.9351790798, 26.3998576415))
            ThreePointArc((-10.9351790798, 26.3998576415), (-13.3108137438, 25.2854278682), (-15.5742017223, 23.9577725532))
            ThreePointArc((-15.5742017223, 23.9577725532), (-15.8754194085, 23.7592441715), (-16.174106735, 23.556928839))
            ThreePointArc((-16.174106735, 23.556928839), (-18.2668613871, 21.9739027044), (-20.2055762724, 20.2055762724))
            ThreePointArc((-20.2055762724, 20.2055762724), (-14.4748363035, 11.5103639945), (-12.637350148, 1.259913186))
        make_face()
        with BuildLine():
            ThreePointArc((0, 12.7), (8.5231772989, 9.4151712003), (12.637350148, 1.259913186))
            ThreePointArc((12.637350148, 1.259913186), (14.4748363035, 11.5103639945), (20.2055762724, 20.2055762724))
            ThreePointArc((20.2055762724, 20.2055762724), (18.2668613871, 21.9739027044), (16.174106735, 23.556928839))
            ThreePointArc((16.174106735, 23.556928839), (15.8754194085, 23.7592441715), (15.5742017223, 23.9577725532))
            ThreePointArc((15.5742017223, 23.9577725532), (13.3108137438, 25.2854278682), (10.9351790798, 26.3998576415))
            ThreePointArc((10.9351790798, 26.3998576415), (8.4673308494, 27.2916641722), (5.9280797851, 27.9533270839))
            ThreePointArc((5.9280797851, 27.9533270839), (5.5747059516, 28.0259393875), (5.220443574, 28.0940846779))
            ThreePointArc((5.220443574, 28.0940846779), (2.6212740536, 28.4545171693), (0, 28.575))
            Line((0, 28.575), (0, 12.7))
        make_face()
        with BuildLine():
            Line((-28.575, 0), (-12.7, 0))
            ThreePointArc((-12.7, 0), (-18.7768013466, 6.4361823958), (-26.3998576415, 10.9351790798))
            ThreePointArc((-26.3998576415, 10.9351790798), (-27.2916641722, 8.4673308494), (-27.9533270839, 5.9280797851))
            ThreePointArc((-27.9533270839, 5.9280797851), (-28.0259393875, 5.5747059516), (-28.0940846779, 5.220443574))
            ThreePointArc((-28.0940846779, 5.220443574), (-28.4545171693, 2.6212740536), (-28.575, 0))
        make_face()
        with BuildLine():
            ThreePointArc((-26.3998576415, -10.9351790798), (-18.7768013466, -6.4361823958), (-12.7, 0))
            Line((-12.7, 0), (-28.575, 0))
            ThreePointArc((-28.575, 0), (-28.4545171693, -2.6212740536), (-28.0940846779, -5.220443574))
            ThreePointArc((-28.0940846779, -5.220443574), (-28.0259393875, -5.5747059516), (-27.9533270839, -5.9280797851))
            ThreePointArc((-27.9533270839, -5.9280797851), (-27.2916641722, -8.4673308494), (-26.3998576415, -10.9351790798))
        make_face()
        with BuildLine():
            Line((0, -28.575), (0, -12.7))
            ThreePointArc((0, -12.7), (-8.5231772989, -9.4151712003), (-12.637350148, -1.259913186))
            ThreePointArc((-12.637350148, -1.259913186), (-14.4748363035, -11.5103639945), (-20.2055762724, -20.2055762724))
            ThreePointArc((-20.2055762724, -20.2055762724), (-18.2668613871, -21.9739027044), (-16.174106735, -23.556928839))
            ThreePointArc((-16.174106735, -23.556928839), (-15.8754194085, -23.7592441715), (-15.5742017223, -23.9577725532))
            ThreePointArc((-15.5742017223, -23.9577725532), (-13.3108137438, -25.2854278682), (-10.9351790798, -26.3998576415))
            ThreePointArc((-10.9351790798, -26.3998576415), (-8.4673308494, -27.2916641722), (-5.9280797851, -27.9533270839))
            ThreePointArc((-5.9280797851, -27.9533270839), (-5.5747059516, -28.0259393875), (-5.220443574, -28.0940846779))
            ThreePointArc((-5.220443574, -28.0940846779), (-2.6212740536, -28.4545171693), (0, -28.575))
        make_face()
        with BuildLine():
            ThreePointArc((20.2055762724, -20.2055762724), (14.4748363035, -11.5103639945), (12.637350148, -1.259913186))
            ThreePointArc((12.637350148, -1.259913186), (8.5231772989, -9.4151712003), (0, -12.7))
            Line((0, -12.7), (0, -28.575))
            ThreePointArc((0, -28.575), (2.6212740536, -28.4545171693), (5.220443574, -28.0940846779))
            ThreePointArc((5.220443574, -28.0940846779), (5.5747059516, -28.0259393875), (5.9280797851, -27.9533270839))
            ThreePointArc((5.9280797851, -27.9533270839), (8.4673308494, -27.2916641722), (10.9351790798, -26.3998576415))
            ThreePointArc((10.9351790798, -26.3998576415), (13.3108137438, -25.2854278682), (15.5742017223, -23.9577725532))
            ThreePointArc((15.5742017223, -23.9577725532), (15.8754194085, -23.7592441715), (16.174106735, -23.556928839))
            ThreePointArc((16.174106735, -23.556928839), (18.2668613871, -21.9739027044), (20.2055762724, -20.2055762724))
        make_face()
        with BuildLine():
            ThreePointArc((26.3998576415, 10.9351790798), (18.7768013466, 6.4361823958), (12.7, 0))
            Line((12.7, 0), (28.575, 0))
            ThreePointArc((28.575, 0), (28.4545171693, 2.6212740536), (28.0940846779, 5.220443574))
            ThreePointArc((28.0940846779, 5.220443574), (28.0259393875, 5.5747059516), (27.9533270839, 5.9280797851))
            ThreePointArc((27.9533270839, 5.9280797851), (27.2916641722, 8.4673308494), (26.3998576415, 10.9351790798))
        make_face()
        with BuildLine():
            Line((28.575, 0), (12.7, 0))
            ThreePointArc((12.7, 0), (18.7768013466, -6.4361823958), (26.3998576415, -10.9351790798))
            ThreePointArc((26.3998576415, -10.9351790798), (27.2916641722, -8.4673308494), (27.9533270839, -5.9280797851))
            ThreePointArc((27.9533270839, -5.9280797851), (28.0259393875, -5.5747059516), (28.0940846779, -5.220443574))
            ThreePointArc((28.0940846779, -5.220443574), (28.4545171693, -2.6212740536), (28.575, 0))
        make_face()
    extrude(amount=F2_DEPTH)


solid = f1.part
